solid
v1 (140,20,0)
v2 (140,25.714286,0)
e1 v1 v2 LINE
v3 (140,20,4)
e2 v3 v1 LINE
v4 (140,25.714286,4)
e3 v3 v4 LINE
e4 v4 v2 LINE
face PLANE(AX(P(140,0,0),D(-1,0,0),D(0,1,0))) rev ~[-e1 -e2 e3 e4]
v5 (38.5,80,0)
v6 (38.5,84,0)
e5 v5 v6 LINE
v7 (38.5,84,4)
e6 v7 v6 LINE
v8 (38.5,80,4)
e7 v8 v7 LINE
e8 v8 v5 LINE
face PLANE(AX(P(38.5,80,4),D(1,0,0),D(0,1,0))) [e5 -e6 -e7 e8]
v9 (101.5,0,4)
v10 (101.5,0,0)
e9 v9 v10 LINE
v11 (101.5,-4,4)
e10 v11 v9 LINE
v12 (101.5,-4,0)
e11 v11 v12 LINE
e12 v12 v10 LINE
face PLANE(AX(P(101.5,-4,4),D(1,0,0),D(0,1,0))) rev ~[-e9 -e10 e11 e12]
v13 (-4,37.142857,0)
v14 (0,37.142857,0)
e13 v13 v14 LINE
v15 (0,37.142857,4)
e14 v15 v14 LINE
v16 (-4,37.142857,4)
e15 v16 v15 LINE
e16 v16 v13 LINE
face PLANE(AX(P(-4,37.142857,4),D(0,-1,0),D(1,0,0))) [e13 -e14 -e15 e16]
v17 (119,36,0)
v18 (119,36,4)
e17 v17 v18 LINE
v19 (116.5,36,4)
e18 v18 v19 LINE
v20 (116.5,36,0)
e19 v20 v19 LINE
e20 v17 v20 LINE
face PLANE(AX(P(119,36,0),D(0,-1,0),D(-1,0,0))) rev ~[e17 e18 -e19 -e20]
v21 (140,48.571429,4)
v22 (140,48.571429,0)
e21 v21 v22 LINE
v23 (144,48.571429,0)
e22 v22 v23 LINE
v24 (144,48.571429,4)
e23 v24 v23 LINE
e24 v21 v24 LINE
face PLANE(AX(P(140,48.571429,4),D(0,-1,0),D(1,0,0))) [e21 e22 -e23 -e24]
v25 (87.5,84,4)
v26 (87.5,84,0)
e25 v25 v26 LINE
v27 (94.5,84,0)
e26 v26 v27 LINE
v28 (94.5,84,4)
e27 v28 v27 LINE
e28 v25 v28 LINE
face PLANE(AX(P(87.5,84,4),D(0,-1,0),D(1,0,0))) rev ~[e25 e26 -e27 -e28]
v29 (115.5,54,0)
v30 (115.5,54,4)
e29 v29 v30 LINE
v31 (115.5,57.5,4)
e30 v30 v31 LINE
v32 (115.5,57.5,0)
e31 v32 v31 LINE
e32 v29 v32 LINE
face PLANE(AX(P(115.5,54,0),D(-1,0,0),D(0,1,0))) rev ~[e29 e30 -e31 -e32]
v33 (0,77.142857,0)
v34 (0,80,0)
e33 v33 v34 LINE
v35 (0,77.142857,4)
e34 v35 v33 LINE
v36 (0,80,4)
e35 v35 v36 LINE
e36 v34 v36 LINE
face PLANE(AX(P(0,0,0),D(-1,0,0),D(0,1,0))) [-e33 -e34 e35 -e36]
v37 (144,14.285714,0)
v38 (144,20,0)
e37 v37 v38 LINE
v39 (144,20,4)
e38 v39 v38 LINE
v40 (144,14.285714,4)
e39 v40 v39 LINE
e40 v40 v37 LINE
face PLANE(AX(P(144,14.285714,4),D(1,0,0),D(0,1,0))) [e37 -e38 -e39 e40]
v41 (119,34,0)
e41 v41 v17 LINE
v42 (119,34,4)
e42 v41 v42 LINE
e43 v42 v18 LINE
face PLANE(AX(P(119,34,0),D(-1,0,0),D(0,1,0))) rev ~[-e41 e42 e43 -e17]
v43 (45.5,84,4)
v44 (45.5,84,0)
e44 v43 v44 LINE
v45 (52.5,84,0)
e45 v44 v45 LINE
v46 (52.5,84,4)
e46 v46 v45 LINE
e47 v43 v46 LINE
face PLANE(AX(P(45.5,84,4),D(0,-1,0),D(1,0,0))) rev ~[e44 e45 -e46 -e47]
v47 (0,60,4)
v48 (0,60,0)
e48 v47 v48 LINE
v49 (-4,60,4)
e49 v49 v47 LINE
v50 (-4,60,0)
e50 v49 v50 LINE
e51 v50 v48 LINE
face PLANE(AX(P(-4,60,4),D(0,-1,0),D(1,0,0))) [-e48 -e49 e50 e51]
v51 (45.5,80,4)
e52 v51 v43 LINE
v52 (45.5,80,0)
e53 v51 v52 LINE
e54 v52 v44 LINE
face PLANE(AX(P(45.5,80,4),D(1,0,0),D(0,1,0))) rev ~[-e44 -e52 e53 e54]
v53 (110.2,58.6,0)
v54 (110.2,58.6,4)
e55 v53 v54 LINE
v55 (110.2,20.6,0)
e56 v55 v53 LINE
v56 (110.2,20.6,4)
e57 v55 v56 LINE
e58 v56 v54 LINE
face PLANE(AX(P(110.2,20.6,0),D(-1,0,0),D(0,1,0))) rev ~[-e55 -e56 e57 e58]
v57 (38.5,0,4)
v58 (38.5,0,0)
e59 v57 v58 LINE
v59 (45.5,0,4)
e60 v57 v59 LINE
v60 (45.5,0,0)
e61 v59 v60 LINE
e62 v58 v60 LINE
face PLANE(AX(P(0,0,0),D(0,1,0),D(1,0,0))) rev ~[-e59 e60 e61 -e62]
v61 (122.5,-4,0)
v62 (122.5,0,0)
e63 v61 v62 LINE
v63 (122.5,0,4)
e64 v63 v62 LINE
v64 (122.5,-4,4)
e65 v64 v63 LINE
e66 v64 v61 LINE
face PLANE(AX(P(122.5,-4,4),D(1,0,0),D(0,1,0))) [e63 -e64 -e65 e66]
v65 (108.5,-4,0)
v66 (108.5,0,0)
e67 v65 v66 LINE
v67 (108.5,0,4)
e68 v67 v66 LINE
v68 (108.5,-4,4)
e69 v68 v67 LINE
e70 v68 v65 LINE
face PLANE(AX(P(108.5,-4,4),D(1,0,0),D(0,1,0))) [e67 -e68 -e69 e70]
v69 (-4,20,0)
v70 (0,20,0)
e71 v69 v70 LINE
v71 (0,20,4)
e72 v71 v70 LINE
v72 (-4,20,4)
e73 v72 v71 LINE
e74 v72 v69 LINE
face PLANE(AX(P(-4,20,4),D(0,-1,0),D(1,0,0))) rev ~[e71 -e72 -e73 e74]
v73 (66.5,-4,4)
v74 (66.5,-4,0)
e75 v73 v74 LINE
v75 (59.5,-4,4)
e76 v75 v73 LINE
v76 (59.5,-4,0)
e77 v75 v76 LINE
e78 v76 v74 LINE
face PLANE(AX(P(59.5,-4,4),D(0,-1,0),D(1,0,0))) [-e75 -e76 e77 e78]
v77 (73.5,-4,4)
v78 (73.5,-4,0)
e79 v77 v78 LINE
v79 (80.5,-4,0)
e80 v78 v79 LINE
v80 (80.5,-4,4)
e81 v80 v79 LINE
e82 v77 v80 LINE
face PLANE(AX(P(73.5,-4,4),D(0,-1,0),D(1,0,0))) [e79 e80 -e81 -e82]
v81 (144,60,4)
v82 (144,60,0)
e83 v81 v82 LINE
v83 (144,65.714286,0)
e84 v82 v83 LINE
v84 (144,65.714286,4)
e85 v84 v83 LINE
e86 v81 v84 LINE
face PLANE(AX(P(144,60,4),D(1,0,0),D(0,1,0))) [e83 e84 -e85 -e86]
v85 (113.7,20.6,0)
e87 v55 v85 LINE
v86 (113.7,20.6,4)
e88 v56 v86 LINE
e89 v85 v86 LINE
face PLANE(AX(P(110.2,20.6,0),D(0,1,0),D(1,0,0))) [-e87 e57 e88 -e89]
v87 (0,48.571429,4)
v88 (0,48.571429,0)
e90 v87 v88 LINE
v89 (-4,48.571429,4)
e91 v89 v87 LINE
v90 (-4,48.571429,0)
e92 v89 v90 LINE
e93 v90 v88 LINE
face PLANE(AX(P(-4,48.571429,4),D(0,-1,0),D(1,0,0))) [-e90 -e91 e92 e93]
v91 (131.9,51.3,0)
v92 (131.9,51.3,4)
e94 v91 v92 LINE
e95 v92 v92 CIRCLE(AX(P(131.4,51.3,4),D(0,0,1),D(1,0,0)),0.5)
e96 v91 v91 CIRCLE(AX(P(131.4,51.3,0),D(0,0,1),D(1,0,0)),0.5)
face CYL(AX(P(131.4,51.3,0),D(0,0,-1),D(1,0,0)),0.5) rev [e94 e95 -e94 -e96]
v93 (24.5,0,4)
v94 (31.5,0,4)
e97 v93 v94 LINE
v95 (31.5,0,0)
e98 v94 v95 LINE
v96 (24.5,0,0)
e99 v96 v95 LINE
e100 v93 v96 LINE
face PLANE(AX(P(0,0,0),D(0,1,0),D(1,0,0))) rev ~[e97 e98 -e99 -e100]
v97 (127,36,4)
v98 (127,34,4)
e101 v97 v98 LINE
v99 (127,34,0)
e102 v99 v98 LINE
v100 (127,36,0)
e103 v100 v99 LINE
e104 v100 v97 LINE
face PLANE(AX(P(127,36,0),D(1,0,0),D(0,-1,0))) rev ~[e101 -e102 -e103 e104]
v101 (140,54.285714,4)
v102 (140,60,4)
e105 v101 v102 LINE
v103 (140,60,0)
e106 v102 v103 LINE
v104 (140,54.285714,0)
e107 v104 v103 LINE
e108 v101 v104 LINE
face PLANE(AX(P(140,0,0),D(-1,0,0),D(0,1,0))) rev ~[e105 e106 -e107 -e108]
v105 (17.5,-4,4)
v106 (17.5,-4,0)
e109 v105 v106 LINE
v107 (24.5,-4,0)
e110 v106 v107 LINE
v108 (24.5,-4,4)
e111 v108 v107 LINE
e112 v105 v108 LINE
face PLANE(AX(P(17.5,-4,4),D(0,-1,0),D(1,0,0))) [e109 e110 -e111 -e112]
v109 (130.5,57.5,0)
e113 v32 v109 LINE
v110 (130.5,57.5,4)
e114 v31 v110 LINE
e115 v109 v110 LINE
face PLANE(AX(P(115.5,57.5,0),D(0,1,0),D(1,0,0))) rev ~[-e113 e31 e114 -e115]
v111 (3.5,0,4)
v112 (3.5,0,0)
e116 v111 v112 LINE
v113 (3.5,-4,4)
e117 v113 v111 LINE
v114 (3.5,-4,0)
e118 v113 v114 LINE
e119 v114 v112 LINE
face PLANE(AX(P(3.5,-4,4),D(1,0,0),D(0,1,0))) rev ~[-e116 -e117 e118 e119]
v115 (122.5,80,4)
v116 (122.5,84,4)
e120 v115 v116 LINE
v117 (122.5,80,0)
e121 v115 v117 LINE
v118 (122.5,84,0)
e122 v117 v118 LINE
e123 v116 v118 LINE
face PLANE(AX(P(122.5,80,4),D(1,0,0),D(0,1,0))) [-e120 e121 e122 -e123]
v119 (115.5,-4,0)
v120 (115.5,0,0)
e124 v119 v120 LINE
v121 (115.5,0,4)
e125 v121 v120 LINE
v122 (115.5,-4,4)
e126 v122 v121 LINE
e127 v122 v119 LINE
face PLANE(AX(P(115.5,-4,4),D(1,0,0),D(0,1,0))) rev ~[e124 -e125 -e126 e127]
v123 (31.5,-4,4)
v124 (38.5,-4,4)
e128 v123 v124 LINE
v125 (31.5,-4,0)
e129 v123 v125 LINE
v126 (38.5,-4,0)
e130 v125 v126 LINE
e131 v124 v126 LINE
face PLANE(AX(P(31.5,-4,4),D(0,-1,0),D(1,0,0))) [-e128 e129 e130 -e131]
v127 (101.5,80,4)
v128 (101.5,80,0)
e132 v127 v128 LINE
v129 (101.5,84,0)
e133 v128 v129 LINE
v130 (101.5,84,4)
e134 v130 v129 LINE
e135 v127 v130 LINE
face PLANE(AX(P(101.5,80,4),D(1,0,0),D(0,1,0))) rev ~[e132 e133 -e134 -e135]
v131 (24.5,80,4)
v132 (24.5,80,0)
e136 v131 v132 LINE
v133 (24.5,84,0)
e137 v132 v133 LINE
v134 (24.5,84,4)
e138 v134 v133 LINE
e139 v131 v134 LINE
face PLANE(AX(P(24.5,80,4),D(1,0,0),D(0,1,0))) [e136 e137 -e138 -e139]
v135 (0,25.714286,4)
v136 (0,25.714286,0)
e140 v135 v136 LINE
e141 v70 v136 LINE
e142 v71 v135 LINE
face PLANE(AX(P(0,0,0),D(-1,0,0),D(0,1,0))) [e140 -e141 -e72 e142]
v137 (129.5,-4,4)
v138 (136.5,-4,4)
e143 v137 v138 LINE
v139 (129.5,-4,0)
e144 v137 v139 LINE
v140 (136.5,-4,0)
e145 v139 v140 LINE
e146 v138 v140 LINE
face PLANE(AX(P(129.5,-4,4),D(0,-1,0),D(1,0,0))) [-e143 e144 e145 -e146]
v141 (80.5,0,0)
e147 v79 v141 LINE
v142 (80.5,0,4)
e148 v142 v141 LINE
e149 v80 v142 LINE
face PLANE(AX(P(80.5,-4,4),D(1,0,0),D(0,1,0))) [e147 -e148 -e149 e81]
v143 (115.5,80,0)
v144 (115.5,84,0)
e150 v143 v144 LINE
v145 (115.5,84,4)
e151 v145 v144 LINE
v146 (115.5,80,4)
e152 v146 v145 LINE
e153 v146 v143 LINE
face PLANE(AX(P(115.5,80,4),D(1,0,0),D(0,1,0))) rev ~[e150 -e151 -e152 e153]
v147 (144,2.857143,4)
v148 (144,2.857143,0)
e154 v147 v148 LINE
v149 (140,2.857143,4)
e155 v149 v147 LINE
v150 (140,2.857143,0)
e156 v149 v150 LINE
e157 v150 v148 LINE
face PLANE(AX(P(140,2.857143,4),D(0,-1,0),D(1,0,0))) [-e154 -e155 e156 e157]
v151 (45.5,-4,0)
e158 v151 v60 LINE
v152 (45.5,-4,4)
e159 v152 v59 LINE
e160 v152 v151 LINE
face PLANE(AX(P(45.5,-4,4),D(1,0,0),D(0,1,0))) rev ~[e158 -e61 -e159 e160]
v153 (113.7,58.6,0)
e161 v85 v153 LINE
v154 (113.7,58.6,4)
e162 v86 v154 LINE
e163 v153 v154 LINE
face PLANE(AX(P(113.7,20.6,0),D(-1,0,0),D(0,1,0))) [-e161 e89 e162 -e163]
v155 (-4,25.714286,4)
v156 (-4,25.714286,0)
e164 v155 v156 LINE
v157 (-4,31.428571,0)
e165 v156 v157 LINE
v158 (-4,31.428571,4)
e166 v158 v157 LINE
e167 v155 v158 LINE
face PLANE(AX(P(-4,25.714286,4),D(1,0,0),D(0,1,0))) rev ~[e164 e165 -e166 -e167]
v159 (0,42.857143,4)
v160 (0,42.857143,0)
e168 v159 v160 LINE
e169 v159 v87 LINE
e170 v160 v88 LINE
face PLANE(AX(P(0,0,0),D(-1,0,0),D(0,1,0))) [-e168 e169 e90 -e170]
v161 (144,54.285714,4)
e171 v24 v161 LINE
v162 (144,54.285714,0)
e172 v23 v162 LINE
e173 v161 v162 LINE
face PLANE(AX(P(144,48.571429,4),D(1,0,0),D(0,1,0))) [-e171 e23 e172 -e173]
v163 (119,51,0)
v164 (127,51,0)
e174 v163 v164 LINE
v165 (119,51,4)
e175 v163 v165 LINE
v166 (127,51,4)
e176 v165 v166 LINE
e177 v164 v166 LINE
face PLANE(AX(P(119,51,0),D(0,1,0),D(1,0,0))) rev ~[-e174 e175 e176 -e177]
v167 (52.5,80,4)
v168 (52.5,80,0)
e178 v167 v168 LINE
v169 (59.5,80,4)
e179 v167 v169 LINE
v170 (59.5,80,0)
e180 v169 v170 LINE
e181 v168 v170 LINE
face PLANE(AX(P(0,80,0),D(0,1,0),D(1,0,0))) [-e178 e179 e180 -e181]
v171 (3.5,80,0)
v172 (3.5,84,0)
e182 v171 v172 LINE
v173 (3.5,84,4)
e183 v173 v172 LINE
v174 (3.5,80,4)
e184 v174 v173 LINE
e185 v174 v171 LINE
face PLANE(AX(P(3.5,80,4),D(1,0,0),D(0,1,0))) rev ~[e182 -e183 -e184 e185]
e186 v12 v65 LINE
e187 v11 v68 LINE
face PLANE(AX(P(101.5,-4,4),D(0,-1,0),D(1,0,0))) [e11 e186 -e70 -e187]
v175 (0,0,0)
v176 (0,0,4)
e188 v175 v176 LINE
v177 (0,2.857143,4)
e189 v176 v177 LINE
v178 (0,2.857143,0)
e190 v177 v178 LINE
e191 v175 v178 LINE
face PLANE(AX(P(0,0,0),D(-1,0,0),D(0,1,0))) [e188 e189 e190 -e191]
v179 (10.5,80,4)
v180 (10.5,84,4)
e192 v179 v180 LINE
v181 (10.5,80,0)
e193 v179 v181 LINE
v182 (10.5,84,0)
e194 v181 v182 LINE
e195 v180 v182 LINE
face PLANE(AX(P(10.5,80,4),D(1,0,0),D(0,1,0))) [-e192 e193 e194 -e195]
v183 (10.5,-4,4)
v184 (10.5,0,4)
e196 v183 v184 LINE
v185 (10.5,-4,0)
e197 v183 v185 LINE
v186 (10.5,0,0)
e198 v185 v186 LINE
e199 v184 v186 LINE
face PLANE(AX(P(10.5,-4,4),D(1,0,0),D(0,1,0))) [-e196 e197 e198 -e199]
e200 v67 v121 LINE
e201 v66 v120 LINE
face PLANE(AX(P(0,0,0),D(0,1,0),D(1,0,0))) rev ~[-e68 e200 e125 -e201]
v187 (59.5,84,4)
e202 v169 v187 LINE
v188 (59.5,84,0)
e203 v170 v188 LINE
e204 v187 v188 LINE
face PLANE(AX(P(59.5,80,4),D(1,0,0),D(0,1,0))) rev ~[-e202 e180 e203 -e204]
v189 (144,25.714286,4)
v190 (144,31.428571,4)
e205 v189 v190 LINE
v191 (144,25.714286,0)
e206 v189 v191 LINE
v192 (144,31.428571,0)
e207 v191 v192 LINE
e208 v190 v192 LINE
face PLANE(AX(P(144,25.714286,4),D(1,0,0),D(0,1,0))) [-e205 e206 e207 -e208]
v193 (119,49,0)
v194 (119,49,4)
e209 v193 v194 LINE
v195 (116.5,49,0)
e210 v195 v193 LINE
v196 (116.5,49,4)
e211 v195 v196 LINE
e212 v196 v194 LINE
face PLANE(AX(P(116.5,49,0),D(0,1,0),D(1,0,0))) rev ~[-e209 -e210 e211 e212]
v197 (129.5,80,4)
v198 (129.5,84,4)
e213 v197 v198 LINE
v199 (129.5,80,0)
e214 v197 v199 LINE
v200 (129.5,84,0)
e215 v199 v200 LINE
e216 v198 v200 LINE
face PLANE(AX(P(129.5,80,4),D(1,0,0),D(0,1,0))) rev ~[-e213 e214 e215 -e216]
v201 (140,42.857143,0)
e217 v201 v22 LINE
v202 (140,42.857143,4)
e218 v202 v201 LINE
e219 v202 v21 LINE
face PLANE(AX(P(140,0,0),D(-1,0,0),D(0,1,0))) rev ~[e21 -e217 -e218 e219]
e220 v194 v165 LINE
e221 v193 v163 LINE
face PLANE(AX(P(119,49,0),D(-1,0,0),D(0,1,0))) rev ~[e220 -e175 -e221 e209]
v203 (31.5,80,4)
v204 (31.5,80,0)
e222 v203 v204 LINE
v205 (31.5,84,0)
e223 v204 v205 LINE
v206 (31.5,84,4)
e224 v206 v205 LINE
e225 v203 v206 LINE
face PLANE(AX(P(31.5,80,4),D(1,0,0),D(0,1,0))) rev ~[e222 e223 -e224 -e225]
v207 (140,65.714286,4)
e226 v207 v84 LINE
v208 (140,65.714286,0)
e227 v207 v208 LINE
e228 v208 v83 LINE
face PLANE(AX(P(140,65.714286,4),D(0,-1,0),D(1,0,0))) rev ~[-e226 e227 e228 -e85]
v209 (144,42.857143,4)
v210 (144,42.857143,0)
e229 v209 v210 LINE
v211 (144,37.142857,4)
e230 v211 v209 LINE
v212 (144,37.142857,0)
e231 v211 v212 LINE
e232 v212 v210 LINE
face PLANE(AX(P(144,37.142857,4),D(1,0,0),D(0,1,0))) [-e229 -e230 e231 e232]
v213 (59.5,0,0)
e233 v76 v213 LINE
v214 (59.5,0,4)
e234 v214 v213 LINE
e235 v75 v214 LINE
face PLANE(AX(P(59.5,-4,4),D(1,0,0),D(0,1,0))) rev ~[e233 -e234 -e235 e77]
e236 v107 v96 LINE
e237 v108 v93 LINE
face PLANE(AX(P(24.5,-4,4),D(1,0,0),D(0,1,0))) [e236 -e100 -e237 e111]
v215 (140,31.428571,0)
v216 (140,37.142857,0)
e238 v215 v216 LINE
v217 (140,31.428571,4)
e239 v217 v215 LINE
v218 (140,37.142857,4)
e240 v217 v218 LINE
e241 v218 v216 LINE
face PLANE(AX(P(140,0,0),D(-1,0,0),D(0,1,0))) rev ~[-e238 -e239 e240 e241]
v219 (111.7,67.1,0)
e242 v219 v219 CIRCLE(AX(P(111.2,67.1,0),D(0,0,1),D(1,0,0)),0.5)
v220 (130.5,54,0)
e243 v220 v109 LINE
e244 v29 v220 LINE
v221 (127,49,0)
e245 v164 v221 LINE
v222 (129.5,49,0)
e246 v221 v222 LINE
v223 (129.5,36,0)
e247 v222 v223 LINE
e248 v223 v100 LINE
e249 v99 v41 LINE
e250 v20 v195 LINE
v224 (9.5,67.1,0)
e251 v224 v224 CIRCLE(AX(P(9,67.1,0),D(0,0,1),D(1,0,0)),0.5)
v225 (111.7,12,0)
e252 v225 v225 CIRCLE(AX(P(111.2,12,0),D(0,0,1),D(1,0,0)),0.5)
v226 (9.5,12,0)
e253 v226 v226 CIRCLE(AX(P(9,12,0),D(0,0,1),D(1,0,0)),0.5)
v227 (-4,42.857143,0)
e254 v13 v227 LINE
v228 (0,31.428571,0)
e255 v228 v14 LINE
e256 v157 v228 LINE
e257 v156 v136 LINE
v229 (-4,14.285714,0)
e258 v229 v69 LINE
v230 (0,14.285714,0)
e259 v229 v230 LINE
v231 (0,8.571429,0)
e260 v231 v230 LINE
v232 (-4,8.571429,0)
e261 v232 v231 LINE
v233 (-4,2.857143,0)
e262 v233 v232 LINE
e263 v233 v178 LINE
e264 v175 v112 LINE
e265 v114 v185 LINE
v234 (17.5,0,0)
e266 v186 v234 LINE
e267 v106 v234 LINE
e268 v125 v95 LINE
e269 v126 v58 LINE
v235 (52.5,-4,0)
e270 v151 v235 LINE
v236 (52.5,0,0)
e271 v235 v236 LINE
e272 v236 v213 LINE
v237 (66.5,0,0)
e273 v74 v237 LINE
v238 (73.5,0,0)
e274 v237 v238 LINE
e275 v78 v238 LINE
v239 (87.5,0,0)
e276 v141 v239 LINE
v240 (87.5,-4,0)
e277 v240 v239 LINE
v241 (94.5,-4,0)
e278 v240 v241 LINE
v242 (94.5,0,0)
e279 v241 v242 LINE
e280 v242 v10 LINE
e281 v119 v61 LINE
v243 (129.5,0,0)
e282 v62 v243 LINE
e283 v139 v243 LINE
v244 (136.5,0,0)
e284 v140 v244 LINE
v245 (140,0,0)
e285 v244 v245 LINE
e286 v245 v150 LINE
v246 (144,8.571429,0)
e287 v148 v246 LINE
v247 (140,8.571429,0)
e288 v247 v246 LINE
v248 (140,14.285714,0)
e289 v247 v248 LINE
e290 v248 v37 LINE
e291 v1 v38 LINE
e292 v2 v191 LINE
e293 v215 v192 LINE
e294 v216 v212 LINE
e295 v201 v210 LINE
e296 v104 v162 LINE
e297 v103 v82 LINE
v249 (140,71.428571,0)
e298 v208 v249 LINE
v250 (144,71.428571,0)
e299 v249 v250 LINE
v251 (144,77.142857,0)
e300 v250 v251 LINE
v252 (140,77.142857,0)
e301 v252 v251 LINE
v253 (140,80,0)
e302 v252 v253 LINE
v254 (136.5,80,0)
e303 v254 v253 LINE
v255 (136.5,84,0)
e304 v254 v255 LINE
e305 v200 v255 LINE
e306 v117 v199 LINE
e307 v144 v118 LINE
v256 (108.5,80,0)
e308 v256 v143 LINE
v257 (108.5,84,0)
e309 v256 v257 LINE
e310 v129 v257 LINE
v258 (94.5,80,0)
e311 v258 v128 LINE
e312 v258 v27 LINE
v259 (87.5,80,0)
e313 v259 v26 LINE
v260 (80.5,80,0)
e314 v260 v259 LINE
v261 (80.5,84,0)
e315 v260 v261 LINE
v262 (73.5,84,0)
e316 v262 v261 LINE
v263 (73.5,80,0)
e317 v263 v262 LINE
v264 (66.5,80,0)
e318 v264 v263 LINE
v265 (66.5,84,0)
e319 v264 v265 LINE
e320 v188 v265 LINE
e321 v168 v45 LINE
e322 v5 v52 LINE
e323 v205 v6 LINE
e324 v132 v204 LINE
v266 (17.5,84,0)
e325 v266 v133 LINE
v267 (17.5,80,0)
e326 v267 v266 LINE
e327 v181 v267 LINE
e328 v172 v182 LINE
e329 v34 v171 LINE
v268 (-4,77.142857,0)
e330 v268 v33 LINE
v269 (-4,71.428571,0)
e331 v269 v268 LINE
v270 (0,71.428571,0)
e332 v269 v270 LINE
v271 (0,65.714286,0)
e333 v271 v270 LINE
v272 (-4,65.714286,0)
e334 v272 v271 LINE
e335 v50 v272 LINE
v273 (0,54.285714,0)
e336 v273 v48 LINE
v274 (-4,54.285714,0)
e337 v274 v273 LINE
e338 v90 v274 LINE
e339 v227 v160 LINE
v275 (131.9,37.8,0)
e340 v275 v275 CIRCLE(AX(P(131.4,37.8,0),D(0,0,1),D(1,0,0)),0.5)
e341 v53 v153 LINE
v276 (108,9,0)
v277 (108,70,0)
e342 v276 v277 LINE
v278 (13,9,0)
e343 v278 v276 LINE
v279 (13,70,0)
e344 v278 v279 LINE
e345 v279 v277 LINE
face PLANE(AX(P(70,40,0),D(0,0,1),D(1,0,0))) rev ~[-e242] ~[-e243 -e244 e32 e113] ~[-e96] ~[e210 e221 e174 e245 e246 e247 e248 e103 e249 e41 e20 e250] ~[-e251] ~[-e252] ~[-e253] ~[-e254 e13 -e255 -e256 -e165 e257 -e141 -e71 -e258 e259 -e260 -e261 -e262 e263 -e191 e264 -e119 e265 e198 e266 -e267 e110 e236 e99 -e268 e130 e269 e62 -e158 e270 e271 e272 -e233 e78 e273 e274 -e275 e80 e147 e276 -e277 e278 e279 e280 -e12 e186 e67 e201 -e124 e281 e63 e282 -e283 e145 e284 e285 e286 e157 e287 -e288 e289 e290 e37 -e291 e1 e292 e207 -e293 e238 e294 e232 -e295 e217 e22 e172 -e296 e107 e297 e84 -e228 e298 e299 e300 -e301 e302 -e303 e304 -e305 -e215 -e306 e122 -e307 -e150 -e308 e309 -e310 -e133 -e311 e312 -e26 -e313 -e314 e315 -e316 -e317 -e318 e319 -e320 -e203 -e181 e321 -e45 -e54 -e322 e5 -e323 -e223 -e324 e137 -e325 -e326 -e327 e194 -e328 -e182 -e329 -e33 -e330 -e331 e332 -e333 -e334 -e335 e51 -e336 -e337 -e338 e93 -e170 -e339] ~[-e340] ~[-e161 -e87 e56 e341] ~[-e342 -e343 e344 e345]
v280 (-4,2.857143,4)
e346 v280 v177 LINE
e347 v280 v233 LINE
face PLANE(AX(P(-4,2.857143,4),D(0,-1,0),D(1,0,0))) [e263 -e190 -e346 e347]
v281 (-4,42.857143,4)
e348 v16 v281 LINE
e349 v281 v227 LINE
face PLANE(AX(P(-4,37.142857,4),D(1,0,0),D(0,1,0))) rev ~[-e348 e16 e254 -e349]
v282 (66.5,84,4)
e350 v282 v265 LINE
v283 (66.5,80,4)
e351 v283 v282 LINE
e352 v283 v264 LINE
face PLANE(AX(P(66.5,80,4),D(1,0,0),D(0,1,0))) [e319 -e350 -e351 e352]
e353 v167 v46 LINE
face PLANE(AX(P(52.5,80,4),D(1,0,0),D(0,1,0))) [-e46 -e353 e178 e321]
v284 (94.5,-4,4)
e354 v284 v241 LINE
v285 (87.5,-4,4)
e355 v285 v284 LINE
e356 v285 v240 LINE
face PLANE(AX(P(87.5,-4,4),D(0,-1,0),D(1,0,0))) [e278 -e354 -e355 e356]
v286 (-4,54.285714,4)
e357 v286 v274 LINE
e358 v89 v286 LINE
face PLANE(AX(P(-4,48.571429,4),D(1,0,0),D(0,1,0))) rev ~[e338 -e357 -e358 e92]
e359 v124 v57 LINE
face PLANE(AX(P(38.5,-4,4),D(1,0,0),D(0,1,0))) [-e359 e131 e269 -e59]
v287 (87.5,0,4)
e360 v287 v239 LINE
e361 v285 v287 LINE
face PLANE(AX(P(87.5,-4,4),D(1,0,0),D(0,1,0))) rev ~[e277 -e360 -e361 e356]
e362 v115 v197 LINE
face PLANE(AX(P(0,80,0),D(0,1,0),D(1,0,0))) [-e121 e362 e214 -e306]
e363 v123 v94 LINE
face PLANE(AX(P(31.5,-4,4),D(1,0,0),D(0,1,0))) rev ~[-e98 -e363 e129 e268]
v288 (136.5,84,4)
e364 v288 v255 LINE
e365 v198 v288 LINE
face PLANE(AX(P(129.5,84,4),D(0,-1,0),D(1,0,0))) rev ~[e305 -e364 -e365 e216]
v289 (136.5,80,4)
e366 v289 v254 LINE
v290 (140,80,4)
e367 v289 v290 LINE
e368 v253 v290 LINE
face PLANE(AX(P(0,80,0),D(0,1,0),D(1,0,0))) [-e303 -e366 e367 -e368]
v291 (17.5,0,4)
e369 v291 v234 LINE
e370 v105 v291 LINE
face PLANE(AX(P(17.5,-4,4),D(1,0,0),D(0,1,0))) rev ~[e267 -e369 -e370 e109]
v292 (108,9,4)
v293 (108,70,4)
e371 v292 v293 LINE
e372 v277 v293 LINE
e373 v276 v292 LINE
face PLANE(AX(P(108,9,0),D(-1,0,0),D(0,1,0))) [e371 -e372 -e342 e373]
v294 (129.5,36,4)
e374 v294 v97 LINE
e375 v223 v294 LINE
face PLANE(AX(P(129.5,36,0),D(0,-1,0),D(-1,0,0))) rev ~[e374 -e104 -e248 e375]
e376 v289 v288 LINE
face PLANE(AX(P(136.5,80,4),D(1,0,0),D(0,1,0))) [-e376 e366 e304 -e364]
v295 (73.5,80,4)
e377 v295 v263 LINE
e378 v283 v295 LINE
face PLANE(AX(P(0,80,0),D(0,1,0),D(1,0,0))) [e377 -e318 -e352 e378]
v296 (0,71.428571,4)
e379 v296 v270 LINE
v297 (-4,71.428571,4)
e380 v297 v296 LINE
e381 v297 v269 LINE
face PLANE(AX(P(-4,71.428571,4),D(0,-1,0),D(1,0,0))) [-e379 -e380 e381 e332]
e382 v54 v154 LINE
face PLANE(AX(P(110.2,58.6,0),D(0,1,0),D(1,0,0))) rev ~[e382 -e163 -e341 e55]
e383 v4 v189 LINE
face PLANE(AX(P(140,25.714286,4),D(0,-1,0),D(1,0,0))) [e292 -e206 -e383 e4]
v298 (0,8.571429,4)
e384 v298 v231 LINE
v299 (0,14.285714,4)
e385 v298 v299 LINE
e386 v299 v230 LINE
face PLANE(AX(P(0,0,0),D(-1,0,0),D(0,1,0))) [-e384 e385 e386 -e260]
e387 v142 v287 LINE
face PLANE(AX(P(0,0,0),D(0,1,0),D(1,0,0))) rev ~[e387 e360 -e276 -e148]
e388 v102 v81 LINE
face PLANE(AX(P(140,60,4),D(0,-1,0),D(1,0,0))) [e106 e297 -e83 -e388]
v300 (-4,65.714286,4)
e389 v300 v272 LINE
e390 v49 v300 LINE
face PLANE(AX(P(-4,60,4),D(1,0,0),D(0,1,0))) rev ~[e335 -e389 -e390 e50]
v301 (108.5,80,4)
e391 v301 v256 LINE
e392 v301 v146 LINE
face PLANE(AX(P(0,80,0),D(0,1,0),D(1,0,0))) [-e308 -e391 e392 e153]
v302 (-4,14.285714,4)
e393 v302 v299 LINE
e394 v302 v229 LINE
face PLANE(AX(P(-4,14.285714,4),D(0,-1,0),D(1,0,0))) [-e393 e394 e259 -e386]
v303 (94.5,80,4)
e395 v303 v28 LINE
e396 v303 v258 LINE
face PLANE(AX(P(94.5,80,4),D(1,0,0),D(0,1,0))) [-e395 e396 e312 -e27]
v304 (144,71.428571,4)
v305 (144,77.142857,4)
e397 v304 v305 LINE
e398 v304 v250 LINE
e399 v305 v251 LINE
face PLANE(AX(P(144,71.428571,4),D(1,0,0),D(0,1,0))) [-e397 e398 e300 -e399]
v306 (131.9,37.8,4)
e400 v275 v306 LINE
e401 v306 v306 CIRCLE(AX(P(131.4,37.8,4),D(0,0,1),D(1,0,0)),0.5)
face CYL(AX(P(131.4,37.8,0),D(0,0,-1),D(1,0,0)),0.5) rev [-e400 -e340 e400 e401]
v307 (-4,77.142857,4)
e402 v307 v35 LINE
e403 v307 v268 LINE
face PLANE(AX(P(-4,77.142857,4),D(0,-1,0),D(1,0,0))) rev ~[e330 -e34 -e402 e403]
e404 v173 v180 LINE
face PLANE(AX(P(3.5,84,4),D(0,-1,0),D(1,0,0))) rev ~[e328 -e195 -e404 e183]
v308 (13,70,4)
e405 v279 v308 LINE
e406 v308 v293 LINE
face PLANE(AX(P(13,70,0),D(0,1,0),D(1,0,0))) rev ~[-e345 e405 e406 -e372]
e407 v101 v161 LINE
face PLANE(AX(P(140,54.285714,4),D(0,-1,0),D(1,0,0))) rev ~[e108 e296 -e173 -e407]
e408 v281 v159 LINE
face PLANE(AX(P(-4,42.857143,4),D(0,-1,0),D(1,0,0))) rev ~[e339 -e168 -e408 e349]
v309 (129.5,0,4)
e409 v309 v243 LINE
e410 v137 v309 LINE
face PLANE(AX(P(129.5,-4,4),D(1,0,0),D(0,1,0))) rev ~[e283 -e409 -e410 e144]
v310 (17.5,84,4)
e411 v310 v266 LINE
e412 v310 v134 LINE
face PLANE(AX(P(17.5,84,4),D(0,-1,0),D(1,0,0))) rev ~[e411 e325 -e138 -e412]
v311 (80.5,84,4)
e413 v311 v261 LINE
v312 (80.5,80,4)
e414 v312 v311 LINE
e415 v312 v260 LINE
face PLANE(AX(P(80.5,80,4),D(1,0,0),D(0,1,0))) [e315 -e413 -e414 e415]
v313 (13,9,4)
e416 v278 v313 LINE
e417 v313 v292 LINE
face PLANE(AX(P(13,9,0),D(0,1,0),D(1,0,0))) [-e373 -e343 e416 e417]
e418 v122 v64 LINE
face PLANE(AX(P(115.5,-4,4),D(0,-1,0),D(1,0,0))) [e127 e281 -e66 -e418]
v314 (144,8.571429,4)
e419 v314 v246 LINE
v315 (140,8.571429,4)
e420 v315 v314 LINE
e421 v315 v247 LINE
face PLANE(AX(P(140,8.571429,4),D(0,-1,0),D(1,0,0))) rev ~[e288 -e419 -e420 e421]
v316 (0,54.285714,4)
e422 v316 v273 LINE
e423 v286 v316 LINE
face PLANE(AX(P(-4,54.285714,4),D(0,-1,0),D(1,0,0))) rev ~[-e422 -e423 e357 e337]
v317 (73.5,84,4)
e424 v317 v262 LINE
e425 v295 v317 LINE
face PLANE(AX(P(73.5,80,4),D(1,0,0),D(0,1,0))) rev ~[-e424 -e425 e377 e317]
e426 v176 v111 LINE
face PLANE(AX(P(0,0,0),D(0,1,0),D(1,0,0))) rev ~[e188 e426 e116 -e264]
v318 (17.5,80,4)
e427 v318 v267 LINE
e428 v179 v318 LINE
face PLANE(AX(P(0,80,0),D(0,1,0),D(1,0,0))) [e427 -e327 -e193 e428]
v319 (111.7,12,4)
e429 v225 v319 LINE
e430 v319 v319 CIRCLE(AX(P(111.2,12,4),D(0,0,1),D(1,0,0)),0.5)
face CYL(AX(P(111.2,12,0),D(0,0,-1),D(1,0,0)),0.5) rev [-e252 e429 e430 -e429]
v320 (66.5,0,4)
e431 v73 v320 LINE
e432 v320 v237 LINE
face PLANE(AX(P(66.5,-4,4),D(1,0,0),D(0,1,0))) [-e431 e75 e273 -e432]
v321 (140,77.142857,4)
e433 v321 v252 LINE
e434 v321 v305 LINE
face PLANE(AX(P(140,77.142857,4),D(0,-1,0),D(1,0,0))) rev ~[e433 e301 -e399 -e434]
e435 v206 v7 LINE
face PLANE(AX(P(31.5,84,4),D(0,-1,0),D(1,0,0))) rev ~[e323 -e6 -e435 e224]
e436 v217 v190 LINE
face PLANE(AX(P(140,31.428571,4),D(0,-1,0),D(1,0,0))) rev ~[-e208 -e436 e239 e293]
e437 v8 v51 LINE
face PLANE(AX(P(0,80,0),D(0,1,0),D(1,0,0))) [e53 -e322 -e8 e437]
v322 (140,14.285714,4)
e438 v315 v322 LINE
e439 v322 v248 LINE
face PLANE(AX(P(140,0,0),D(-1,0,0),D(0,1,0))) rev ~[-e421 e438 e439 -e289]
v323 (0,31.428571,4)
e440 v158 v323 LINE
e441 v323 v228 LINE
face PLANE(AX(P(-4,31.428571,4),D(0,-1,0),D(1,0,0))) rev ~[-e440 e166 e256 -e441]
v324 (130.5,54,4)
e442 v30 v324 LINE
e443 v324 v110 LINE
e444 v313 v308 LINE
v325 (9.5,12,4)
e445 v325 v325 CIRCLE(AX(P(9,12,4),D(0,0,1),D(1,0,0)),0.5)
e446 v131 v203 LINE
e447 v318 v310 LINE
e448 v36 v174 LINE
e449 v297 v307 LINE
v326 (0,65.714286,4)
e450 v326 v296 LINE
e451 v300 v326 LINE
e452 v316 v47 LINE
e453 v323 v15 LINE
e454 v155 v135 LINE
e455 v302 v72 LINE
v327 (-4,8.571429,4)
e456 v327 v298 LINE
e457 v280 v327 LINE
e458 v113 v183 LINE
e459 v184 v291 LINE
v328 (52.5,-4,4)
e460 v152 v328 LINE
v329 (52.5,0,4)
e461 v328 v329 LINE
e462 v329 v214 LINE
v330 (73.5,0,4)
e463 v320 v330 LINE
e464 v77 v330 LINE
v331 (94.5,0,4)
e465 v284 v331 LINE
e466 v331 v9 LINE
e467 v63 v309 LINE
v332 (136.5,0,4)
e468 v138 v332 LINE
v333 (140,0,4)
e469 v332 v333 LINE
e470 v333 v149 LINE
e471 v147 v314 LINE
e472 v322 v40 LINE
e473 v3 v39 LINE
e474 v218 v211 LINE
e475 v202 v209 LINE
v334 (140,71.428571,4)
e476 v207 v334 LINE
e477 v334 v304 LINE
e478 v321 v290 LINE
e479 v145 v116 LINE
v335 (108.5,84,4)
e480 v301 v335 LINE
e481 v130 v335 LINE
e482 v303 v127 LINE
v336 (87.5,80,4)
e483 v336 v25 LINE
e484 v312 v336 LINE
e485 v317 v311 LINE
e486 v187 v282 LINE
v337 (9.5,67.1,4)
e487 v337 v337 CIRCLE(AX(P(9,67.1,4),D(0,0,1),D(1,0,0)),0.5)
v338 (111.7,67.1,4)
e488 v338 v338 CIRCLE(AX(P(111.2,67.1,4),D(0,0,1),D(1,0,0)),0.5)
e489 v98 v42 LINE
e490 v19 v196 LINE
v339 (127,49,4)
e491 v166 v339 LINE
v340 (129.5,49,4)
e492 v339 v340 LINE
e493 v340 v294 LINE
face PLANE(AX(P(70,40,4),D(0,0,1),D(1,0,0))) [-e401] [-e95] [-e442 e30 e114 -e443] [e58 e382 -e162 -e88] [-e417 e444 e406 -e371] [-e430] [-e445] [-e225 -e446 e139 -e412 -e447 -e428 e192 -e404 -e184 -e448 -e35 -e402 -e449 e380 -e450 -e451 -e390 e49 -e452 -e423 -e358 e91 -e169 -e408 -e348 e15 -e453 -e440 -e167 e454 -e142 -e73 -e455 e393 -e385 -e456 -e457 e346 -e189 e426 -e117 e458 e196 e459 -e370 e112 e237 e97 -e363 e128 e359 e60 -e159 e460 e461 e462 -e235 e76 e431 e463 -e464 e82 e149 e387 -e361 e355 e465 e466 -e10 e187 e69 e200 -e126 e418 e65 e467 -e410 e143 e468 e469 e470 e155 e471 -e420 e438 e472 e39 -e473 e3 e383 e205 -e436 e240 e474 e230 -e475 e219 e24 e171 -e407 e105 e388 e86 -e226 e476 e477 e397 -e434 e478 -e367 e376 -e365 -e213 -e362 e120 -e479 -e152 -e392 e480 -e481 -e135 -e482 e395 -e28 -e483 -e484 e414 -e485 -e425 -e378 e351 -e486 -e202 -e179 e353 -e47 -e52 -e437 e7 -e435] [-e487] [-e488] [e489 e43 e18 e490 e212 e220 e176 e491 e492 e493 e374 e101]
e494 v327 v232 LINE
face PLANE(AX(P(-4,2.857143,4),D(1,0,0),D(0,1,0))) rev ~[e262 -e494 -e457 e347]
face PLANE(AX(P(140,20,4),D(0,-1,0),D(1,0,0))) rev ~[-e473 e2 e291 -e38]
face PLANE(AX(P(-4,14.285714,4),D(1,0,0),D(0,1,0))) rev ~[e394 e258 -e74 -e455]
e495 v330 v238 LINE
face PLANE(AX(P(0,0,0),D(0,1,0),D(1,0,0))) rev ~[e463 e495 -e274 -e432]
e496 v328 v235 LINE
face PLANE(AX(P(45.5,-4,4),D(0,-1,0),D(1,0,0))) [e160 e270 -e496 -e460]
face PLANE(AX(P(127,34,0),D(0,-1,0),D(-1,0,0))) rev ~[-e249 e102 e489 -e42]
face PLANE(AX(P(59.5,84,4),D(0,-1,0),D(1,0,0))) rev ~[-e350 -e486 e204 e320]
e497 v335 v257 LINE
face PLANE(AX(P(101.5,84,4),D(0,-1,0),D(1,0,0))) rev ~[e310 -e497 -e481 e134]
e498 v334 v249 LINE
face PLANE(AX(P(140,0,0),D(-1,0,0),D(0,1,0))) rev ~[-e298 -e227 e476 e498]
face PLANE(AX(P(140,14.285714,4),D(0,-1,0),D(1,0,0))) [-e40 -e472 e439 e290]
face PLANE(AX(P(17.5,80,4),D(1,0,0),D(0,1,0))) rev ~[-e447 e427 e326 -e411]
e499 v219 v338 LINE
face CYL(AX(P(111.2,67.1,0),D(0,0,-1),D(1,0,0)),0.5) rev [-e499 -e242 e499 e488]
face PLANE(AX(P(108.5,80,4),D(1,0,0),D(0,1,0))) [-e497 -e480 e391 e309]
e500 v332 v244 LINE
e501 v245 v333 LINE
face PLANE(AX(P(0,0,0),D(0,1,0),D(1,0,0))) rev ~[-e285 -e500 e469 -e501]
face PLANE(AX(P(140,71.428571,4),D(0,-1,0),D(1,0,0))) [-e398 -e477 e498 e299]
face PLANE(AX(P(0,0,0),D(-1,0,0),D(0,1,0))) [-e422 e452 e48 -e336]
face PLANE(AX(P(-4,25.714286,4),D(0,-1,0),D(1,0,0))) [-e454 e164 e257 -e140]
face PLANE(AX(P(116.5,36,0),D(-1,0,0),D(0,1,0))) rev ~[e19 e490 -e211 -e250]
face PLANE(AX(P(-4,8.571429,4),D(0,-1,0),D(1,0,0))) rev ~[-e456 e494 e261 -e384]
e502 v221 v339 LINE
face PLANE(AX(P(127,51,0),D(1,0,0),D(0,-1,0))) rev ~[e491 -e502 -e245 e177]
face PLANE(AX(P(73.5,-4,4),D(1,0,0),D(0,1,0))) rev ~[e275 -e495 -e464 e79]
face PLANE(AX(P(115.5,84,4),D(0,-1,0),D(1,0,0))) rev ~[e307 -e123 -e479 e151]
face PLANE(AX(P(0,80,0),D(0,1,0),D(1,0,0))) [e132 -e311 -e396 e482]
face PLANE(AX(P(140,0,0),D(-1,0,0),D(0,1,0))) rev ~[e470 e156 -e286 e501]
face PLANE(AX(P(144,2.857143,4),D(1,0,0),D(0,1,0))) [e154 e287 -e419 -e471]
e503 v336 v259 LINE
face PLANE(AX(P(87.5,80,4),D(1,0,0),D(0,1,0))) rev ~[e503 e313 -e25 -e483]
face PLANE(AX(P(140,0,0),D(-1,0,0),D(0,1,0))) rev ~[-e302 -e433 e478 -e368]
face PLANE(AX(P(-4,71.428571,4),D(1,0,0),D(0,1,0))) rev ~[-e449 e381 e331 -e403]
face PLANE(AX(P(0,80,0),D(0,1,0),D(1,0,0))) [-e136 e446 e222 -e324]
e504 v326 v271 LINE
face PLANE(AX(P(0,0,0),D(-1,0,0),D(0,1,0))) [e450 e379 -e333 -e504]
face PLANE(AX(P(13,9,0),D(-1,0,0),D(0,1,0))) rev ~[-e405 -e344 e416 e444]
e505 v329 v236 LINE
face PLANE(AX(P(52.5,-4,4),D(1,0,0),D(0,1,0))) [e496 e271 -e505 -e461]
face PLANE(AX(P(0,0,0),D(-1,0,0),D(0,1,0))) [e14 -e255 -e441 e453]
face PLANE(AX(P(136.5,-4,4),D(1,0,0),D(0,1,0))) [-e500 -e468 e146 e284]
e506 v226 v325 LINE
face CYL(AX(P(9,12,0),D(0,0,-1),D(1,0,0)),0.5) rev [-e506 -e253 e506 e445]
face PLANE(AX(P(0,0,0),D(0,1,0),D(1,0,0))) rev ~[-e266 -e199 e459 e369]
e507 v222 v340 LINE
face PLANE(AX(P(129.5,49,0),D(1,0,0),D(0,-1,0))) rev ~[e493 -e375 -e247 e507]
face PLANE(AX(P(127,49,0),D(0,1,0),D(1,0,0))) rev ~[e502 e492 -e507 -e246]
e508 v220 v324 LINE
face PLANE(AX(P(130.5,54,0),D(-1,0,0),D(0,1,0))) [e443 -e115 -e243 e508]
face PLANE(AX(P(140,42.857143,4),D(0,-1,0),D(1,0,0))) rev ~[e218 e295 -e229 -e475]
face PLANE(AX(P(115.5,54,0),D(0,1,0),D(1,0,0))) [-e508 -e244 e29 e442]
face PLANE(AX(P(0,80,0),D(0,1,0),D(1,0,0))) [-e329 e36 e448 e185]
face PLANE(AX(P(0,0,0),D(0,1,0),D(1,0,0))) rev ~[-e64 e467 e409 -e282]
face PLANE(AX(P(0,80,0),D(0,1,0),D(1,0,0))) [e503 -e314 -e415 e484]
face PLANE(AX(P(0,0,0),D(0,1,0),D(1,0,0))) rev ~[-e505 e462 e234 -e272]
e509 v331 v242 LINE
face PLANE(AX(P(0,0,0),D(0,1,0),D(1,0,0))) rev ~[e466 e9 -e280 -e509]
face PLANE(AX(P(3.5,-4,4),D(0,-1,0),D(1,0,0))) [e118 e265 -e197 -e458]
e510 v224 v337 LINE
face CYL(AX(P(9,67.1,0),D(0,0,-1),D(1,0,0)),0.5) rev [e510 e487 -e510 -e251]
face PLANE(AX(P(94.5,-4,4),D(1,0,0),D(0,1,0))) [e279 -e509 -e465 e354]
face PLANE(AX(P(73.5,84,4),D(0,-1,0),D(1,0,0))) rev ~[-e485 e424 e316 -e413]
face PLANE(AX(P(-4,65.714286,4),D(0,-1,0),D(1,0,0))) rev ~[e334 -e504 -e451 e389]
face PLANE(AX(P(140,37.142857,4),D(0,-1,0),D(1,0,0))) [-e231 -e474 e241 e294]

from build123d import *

# Parameters (mm, degrees)
SCHIZZO1_W                   = 140
SCHIZZO1_H                   = 80
SCHIZZO1_R                   = 0.5
SCHIZZO1_W_2                 = 95
SCHIZZO1_H_2                 = 61
SCHIZZO1_W_3                 = 3.5
SCHIZZO1_H_3                 = 38
SCHIZZO1_W_4                 = 15
SCHIZZO1_H_4                 = 3.5
ESTRUSIONE_ESTRUSIONE1_DEPTH = 4
SCHIZZO2_W                   = 7
SCHIZZO2_H                   = 4
ESTRUSIONE_ESTRUSIONE2_DEPTH = 4
RIPETIZIONE_A_L1_COUNT       = 10
RIPETIZIONE_A_L1_PITCH       = 14
SCHIZZO3_W                   = 4
SCHIZZO3_H                   = 5.714285714
ESTRUSIONE_ESTRUSIONE3_DEPTH = 4
RIPETIZIONE_A_L2_COUNT       = 7
RIPETIZIONE_A_L2_PITCH       = 11.428571429


with BuildPart() as part:
    # Schizzo1 → Estrusione-Estrusione1 (new body)
    with BuildSketch(Plane.XY):
        with Locations((70, 40)):
            Rectangle(SCHIZZO1_W, SCHIZZO1_H)
        with Locations((9, 12)):
            Circle(SCHIZZO1_R, mode=Mode.SUBTRACT)
        with Locations((60.5, 39.5)):
            Rectangle(SCHIZZO1_W_2, SCHIZZO1_H_2, mode=Mode.SUBTRACT)
        with Locations((111.2, 12)):
            Circle(SCHIZZO1_R, mode=Mode.SUBTRACT)
        with Locations((111.95, 39.6)):
            Rectangle(SCHIZZO1_W_3, SCHIZZO1_H_3, mode=Mode.SUBTRACT)
        with Locations((131.4, 37.8)):
            Circle(SCHIZZO1_R, mode=Mode.SUBTRACT)
        with Locations((9, 67.1)):
            Circle(SCHIZZO1_R, mode=Mode.SUBTRACT)
        Polygon((119, 36), (116.5, 36), (116.5, 49), (119, 49), (119, 51), (127, 51), (127, 49), (129.5, 49), (129.5, 36), (127, 36), (127, 34), (119, 34), align=None, mode=Mode.SUBTRACT)
        with Locations((131.4, 51.3)):
            Circle(SCHIZZO1_R, mode=Mode.SUBTRACT)
        with Locations((123, 55.75)):
            Rectangle(SCHIZZO1_W_4, SCHIZZO1_H_4, mode=Mode.SUBTRACT)
        with Locations((111.2, 67.1)):
            Circle(SCHIZZO1_R, mode=Mode.SUBTRACT)
    extrude(amount=ESTRUSIONE_ESTRUSIONE1_DEPTH)

    # Schizzo2 → Estrusione-Estrusione2 (add)
    with BuildSketch(Plane.XY.offset(4)):
        with Locations((7, 82)):
            Rectangle(SCHIZZO2_W, SCHIZZO2_H)
        with Locations((7, -2)):
            Rectangle(SCHIZZO2_W, SCHIZZO2_H)
    estrusione_estrusione2 = extrude(amount=-ESTRUSIONE_ESTRUSIONE2_DEPTH)

    # Ripetizione a L1: Estrusione-Estrusione2 ×10
    with Locations(*[(i * RIPETIZIONE_A_L1_PITCH, 0, 0) for i in range(1, RIPETIZIONE_A_L1_COUNT)]):
        add(estrusione_estrusione2)

    # Schizzo3 → Estrusione-Estrusione3 (add)
    with BuildSketch(Plane.XY.offset(4)):
        with Locations((-2, 74.285714286)):
            Rectangle(SCHIZZO3_W, SCHIZZO3_H)
        with Locations((142, 74.285714286)):
            Rectangle(SCHIZZO3_W, SCHIZZO3_H)
    estrusione_estrusione3 = extrude(amount=-ESTRUSIONE_ESTRUSIONE3_DEPTH)

    # Ripetizione a L2: Estrusione-Estrusione3 ×7
    with Locations(*[(0, -i * RIPETIZIONE_A_L2_PITCH, 0) for i in range(1, RIPETIZIONE_A_L2_COUNT)]):
        add(estrusione_estrusione3)


solid = part.part
